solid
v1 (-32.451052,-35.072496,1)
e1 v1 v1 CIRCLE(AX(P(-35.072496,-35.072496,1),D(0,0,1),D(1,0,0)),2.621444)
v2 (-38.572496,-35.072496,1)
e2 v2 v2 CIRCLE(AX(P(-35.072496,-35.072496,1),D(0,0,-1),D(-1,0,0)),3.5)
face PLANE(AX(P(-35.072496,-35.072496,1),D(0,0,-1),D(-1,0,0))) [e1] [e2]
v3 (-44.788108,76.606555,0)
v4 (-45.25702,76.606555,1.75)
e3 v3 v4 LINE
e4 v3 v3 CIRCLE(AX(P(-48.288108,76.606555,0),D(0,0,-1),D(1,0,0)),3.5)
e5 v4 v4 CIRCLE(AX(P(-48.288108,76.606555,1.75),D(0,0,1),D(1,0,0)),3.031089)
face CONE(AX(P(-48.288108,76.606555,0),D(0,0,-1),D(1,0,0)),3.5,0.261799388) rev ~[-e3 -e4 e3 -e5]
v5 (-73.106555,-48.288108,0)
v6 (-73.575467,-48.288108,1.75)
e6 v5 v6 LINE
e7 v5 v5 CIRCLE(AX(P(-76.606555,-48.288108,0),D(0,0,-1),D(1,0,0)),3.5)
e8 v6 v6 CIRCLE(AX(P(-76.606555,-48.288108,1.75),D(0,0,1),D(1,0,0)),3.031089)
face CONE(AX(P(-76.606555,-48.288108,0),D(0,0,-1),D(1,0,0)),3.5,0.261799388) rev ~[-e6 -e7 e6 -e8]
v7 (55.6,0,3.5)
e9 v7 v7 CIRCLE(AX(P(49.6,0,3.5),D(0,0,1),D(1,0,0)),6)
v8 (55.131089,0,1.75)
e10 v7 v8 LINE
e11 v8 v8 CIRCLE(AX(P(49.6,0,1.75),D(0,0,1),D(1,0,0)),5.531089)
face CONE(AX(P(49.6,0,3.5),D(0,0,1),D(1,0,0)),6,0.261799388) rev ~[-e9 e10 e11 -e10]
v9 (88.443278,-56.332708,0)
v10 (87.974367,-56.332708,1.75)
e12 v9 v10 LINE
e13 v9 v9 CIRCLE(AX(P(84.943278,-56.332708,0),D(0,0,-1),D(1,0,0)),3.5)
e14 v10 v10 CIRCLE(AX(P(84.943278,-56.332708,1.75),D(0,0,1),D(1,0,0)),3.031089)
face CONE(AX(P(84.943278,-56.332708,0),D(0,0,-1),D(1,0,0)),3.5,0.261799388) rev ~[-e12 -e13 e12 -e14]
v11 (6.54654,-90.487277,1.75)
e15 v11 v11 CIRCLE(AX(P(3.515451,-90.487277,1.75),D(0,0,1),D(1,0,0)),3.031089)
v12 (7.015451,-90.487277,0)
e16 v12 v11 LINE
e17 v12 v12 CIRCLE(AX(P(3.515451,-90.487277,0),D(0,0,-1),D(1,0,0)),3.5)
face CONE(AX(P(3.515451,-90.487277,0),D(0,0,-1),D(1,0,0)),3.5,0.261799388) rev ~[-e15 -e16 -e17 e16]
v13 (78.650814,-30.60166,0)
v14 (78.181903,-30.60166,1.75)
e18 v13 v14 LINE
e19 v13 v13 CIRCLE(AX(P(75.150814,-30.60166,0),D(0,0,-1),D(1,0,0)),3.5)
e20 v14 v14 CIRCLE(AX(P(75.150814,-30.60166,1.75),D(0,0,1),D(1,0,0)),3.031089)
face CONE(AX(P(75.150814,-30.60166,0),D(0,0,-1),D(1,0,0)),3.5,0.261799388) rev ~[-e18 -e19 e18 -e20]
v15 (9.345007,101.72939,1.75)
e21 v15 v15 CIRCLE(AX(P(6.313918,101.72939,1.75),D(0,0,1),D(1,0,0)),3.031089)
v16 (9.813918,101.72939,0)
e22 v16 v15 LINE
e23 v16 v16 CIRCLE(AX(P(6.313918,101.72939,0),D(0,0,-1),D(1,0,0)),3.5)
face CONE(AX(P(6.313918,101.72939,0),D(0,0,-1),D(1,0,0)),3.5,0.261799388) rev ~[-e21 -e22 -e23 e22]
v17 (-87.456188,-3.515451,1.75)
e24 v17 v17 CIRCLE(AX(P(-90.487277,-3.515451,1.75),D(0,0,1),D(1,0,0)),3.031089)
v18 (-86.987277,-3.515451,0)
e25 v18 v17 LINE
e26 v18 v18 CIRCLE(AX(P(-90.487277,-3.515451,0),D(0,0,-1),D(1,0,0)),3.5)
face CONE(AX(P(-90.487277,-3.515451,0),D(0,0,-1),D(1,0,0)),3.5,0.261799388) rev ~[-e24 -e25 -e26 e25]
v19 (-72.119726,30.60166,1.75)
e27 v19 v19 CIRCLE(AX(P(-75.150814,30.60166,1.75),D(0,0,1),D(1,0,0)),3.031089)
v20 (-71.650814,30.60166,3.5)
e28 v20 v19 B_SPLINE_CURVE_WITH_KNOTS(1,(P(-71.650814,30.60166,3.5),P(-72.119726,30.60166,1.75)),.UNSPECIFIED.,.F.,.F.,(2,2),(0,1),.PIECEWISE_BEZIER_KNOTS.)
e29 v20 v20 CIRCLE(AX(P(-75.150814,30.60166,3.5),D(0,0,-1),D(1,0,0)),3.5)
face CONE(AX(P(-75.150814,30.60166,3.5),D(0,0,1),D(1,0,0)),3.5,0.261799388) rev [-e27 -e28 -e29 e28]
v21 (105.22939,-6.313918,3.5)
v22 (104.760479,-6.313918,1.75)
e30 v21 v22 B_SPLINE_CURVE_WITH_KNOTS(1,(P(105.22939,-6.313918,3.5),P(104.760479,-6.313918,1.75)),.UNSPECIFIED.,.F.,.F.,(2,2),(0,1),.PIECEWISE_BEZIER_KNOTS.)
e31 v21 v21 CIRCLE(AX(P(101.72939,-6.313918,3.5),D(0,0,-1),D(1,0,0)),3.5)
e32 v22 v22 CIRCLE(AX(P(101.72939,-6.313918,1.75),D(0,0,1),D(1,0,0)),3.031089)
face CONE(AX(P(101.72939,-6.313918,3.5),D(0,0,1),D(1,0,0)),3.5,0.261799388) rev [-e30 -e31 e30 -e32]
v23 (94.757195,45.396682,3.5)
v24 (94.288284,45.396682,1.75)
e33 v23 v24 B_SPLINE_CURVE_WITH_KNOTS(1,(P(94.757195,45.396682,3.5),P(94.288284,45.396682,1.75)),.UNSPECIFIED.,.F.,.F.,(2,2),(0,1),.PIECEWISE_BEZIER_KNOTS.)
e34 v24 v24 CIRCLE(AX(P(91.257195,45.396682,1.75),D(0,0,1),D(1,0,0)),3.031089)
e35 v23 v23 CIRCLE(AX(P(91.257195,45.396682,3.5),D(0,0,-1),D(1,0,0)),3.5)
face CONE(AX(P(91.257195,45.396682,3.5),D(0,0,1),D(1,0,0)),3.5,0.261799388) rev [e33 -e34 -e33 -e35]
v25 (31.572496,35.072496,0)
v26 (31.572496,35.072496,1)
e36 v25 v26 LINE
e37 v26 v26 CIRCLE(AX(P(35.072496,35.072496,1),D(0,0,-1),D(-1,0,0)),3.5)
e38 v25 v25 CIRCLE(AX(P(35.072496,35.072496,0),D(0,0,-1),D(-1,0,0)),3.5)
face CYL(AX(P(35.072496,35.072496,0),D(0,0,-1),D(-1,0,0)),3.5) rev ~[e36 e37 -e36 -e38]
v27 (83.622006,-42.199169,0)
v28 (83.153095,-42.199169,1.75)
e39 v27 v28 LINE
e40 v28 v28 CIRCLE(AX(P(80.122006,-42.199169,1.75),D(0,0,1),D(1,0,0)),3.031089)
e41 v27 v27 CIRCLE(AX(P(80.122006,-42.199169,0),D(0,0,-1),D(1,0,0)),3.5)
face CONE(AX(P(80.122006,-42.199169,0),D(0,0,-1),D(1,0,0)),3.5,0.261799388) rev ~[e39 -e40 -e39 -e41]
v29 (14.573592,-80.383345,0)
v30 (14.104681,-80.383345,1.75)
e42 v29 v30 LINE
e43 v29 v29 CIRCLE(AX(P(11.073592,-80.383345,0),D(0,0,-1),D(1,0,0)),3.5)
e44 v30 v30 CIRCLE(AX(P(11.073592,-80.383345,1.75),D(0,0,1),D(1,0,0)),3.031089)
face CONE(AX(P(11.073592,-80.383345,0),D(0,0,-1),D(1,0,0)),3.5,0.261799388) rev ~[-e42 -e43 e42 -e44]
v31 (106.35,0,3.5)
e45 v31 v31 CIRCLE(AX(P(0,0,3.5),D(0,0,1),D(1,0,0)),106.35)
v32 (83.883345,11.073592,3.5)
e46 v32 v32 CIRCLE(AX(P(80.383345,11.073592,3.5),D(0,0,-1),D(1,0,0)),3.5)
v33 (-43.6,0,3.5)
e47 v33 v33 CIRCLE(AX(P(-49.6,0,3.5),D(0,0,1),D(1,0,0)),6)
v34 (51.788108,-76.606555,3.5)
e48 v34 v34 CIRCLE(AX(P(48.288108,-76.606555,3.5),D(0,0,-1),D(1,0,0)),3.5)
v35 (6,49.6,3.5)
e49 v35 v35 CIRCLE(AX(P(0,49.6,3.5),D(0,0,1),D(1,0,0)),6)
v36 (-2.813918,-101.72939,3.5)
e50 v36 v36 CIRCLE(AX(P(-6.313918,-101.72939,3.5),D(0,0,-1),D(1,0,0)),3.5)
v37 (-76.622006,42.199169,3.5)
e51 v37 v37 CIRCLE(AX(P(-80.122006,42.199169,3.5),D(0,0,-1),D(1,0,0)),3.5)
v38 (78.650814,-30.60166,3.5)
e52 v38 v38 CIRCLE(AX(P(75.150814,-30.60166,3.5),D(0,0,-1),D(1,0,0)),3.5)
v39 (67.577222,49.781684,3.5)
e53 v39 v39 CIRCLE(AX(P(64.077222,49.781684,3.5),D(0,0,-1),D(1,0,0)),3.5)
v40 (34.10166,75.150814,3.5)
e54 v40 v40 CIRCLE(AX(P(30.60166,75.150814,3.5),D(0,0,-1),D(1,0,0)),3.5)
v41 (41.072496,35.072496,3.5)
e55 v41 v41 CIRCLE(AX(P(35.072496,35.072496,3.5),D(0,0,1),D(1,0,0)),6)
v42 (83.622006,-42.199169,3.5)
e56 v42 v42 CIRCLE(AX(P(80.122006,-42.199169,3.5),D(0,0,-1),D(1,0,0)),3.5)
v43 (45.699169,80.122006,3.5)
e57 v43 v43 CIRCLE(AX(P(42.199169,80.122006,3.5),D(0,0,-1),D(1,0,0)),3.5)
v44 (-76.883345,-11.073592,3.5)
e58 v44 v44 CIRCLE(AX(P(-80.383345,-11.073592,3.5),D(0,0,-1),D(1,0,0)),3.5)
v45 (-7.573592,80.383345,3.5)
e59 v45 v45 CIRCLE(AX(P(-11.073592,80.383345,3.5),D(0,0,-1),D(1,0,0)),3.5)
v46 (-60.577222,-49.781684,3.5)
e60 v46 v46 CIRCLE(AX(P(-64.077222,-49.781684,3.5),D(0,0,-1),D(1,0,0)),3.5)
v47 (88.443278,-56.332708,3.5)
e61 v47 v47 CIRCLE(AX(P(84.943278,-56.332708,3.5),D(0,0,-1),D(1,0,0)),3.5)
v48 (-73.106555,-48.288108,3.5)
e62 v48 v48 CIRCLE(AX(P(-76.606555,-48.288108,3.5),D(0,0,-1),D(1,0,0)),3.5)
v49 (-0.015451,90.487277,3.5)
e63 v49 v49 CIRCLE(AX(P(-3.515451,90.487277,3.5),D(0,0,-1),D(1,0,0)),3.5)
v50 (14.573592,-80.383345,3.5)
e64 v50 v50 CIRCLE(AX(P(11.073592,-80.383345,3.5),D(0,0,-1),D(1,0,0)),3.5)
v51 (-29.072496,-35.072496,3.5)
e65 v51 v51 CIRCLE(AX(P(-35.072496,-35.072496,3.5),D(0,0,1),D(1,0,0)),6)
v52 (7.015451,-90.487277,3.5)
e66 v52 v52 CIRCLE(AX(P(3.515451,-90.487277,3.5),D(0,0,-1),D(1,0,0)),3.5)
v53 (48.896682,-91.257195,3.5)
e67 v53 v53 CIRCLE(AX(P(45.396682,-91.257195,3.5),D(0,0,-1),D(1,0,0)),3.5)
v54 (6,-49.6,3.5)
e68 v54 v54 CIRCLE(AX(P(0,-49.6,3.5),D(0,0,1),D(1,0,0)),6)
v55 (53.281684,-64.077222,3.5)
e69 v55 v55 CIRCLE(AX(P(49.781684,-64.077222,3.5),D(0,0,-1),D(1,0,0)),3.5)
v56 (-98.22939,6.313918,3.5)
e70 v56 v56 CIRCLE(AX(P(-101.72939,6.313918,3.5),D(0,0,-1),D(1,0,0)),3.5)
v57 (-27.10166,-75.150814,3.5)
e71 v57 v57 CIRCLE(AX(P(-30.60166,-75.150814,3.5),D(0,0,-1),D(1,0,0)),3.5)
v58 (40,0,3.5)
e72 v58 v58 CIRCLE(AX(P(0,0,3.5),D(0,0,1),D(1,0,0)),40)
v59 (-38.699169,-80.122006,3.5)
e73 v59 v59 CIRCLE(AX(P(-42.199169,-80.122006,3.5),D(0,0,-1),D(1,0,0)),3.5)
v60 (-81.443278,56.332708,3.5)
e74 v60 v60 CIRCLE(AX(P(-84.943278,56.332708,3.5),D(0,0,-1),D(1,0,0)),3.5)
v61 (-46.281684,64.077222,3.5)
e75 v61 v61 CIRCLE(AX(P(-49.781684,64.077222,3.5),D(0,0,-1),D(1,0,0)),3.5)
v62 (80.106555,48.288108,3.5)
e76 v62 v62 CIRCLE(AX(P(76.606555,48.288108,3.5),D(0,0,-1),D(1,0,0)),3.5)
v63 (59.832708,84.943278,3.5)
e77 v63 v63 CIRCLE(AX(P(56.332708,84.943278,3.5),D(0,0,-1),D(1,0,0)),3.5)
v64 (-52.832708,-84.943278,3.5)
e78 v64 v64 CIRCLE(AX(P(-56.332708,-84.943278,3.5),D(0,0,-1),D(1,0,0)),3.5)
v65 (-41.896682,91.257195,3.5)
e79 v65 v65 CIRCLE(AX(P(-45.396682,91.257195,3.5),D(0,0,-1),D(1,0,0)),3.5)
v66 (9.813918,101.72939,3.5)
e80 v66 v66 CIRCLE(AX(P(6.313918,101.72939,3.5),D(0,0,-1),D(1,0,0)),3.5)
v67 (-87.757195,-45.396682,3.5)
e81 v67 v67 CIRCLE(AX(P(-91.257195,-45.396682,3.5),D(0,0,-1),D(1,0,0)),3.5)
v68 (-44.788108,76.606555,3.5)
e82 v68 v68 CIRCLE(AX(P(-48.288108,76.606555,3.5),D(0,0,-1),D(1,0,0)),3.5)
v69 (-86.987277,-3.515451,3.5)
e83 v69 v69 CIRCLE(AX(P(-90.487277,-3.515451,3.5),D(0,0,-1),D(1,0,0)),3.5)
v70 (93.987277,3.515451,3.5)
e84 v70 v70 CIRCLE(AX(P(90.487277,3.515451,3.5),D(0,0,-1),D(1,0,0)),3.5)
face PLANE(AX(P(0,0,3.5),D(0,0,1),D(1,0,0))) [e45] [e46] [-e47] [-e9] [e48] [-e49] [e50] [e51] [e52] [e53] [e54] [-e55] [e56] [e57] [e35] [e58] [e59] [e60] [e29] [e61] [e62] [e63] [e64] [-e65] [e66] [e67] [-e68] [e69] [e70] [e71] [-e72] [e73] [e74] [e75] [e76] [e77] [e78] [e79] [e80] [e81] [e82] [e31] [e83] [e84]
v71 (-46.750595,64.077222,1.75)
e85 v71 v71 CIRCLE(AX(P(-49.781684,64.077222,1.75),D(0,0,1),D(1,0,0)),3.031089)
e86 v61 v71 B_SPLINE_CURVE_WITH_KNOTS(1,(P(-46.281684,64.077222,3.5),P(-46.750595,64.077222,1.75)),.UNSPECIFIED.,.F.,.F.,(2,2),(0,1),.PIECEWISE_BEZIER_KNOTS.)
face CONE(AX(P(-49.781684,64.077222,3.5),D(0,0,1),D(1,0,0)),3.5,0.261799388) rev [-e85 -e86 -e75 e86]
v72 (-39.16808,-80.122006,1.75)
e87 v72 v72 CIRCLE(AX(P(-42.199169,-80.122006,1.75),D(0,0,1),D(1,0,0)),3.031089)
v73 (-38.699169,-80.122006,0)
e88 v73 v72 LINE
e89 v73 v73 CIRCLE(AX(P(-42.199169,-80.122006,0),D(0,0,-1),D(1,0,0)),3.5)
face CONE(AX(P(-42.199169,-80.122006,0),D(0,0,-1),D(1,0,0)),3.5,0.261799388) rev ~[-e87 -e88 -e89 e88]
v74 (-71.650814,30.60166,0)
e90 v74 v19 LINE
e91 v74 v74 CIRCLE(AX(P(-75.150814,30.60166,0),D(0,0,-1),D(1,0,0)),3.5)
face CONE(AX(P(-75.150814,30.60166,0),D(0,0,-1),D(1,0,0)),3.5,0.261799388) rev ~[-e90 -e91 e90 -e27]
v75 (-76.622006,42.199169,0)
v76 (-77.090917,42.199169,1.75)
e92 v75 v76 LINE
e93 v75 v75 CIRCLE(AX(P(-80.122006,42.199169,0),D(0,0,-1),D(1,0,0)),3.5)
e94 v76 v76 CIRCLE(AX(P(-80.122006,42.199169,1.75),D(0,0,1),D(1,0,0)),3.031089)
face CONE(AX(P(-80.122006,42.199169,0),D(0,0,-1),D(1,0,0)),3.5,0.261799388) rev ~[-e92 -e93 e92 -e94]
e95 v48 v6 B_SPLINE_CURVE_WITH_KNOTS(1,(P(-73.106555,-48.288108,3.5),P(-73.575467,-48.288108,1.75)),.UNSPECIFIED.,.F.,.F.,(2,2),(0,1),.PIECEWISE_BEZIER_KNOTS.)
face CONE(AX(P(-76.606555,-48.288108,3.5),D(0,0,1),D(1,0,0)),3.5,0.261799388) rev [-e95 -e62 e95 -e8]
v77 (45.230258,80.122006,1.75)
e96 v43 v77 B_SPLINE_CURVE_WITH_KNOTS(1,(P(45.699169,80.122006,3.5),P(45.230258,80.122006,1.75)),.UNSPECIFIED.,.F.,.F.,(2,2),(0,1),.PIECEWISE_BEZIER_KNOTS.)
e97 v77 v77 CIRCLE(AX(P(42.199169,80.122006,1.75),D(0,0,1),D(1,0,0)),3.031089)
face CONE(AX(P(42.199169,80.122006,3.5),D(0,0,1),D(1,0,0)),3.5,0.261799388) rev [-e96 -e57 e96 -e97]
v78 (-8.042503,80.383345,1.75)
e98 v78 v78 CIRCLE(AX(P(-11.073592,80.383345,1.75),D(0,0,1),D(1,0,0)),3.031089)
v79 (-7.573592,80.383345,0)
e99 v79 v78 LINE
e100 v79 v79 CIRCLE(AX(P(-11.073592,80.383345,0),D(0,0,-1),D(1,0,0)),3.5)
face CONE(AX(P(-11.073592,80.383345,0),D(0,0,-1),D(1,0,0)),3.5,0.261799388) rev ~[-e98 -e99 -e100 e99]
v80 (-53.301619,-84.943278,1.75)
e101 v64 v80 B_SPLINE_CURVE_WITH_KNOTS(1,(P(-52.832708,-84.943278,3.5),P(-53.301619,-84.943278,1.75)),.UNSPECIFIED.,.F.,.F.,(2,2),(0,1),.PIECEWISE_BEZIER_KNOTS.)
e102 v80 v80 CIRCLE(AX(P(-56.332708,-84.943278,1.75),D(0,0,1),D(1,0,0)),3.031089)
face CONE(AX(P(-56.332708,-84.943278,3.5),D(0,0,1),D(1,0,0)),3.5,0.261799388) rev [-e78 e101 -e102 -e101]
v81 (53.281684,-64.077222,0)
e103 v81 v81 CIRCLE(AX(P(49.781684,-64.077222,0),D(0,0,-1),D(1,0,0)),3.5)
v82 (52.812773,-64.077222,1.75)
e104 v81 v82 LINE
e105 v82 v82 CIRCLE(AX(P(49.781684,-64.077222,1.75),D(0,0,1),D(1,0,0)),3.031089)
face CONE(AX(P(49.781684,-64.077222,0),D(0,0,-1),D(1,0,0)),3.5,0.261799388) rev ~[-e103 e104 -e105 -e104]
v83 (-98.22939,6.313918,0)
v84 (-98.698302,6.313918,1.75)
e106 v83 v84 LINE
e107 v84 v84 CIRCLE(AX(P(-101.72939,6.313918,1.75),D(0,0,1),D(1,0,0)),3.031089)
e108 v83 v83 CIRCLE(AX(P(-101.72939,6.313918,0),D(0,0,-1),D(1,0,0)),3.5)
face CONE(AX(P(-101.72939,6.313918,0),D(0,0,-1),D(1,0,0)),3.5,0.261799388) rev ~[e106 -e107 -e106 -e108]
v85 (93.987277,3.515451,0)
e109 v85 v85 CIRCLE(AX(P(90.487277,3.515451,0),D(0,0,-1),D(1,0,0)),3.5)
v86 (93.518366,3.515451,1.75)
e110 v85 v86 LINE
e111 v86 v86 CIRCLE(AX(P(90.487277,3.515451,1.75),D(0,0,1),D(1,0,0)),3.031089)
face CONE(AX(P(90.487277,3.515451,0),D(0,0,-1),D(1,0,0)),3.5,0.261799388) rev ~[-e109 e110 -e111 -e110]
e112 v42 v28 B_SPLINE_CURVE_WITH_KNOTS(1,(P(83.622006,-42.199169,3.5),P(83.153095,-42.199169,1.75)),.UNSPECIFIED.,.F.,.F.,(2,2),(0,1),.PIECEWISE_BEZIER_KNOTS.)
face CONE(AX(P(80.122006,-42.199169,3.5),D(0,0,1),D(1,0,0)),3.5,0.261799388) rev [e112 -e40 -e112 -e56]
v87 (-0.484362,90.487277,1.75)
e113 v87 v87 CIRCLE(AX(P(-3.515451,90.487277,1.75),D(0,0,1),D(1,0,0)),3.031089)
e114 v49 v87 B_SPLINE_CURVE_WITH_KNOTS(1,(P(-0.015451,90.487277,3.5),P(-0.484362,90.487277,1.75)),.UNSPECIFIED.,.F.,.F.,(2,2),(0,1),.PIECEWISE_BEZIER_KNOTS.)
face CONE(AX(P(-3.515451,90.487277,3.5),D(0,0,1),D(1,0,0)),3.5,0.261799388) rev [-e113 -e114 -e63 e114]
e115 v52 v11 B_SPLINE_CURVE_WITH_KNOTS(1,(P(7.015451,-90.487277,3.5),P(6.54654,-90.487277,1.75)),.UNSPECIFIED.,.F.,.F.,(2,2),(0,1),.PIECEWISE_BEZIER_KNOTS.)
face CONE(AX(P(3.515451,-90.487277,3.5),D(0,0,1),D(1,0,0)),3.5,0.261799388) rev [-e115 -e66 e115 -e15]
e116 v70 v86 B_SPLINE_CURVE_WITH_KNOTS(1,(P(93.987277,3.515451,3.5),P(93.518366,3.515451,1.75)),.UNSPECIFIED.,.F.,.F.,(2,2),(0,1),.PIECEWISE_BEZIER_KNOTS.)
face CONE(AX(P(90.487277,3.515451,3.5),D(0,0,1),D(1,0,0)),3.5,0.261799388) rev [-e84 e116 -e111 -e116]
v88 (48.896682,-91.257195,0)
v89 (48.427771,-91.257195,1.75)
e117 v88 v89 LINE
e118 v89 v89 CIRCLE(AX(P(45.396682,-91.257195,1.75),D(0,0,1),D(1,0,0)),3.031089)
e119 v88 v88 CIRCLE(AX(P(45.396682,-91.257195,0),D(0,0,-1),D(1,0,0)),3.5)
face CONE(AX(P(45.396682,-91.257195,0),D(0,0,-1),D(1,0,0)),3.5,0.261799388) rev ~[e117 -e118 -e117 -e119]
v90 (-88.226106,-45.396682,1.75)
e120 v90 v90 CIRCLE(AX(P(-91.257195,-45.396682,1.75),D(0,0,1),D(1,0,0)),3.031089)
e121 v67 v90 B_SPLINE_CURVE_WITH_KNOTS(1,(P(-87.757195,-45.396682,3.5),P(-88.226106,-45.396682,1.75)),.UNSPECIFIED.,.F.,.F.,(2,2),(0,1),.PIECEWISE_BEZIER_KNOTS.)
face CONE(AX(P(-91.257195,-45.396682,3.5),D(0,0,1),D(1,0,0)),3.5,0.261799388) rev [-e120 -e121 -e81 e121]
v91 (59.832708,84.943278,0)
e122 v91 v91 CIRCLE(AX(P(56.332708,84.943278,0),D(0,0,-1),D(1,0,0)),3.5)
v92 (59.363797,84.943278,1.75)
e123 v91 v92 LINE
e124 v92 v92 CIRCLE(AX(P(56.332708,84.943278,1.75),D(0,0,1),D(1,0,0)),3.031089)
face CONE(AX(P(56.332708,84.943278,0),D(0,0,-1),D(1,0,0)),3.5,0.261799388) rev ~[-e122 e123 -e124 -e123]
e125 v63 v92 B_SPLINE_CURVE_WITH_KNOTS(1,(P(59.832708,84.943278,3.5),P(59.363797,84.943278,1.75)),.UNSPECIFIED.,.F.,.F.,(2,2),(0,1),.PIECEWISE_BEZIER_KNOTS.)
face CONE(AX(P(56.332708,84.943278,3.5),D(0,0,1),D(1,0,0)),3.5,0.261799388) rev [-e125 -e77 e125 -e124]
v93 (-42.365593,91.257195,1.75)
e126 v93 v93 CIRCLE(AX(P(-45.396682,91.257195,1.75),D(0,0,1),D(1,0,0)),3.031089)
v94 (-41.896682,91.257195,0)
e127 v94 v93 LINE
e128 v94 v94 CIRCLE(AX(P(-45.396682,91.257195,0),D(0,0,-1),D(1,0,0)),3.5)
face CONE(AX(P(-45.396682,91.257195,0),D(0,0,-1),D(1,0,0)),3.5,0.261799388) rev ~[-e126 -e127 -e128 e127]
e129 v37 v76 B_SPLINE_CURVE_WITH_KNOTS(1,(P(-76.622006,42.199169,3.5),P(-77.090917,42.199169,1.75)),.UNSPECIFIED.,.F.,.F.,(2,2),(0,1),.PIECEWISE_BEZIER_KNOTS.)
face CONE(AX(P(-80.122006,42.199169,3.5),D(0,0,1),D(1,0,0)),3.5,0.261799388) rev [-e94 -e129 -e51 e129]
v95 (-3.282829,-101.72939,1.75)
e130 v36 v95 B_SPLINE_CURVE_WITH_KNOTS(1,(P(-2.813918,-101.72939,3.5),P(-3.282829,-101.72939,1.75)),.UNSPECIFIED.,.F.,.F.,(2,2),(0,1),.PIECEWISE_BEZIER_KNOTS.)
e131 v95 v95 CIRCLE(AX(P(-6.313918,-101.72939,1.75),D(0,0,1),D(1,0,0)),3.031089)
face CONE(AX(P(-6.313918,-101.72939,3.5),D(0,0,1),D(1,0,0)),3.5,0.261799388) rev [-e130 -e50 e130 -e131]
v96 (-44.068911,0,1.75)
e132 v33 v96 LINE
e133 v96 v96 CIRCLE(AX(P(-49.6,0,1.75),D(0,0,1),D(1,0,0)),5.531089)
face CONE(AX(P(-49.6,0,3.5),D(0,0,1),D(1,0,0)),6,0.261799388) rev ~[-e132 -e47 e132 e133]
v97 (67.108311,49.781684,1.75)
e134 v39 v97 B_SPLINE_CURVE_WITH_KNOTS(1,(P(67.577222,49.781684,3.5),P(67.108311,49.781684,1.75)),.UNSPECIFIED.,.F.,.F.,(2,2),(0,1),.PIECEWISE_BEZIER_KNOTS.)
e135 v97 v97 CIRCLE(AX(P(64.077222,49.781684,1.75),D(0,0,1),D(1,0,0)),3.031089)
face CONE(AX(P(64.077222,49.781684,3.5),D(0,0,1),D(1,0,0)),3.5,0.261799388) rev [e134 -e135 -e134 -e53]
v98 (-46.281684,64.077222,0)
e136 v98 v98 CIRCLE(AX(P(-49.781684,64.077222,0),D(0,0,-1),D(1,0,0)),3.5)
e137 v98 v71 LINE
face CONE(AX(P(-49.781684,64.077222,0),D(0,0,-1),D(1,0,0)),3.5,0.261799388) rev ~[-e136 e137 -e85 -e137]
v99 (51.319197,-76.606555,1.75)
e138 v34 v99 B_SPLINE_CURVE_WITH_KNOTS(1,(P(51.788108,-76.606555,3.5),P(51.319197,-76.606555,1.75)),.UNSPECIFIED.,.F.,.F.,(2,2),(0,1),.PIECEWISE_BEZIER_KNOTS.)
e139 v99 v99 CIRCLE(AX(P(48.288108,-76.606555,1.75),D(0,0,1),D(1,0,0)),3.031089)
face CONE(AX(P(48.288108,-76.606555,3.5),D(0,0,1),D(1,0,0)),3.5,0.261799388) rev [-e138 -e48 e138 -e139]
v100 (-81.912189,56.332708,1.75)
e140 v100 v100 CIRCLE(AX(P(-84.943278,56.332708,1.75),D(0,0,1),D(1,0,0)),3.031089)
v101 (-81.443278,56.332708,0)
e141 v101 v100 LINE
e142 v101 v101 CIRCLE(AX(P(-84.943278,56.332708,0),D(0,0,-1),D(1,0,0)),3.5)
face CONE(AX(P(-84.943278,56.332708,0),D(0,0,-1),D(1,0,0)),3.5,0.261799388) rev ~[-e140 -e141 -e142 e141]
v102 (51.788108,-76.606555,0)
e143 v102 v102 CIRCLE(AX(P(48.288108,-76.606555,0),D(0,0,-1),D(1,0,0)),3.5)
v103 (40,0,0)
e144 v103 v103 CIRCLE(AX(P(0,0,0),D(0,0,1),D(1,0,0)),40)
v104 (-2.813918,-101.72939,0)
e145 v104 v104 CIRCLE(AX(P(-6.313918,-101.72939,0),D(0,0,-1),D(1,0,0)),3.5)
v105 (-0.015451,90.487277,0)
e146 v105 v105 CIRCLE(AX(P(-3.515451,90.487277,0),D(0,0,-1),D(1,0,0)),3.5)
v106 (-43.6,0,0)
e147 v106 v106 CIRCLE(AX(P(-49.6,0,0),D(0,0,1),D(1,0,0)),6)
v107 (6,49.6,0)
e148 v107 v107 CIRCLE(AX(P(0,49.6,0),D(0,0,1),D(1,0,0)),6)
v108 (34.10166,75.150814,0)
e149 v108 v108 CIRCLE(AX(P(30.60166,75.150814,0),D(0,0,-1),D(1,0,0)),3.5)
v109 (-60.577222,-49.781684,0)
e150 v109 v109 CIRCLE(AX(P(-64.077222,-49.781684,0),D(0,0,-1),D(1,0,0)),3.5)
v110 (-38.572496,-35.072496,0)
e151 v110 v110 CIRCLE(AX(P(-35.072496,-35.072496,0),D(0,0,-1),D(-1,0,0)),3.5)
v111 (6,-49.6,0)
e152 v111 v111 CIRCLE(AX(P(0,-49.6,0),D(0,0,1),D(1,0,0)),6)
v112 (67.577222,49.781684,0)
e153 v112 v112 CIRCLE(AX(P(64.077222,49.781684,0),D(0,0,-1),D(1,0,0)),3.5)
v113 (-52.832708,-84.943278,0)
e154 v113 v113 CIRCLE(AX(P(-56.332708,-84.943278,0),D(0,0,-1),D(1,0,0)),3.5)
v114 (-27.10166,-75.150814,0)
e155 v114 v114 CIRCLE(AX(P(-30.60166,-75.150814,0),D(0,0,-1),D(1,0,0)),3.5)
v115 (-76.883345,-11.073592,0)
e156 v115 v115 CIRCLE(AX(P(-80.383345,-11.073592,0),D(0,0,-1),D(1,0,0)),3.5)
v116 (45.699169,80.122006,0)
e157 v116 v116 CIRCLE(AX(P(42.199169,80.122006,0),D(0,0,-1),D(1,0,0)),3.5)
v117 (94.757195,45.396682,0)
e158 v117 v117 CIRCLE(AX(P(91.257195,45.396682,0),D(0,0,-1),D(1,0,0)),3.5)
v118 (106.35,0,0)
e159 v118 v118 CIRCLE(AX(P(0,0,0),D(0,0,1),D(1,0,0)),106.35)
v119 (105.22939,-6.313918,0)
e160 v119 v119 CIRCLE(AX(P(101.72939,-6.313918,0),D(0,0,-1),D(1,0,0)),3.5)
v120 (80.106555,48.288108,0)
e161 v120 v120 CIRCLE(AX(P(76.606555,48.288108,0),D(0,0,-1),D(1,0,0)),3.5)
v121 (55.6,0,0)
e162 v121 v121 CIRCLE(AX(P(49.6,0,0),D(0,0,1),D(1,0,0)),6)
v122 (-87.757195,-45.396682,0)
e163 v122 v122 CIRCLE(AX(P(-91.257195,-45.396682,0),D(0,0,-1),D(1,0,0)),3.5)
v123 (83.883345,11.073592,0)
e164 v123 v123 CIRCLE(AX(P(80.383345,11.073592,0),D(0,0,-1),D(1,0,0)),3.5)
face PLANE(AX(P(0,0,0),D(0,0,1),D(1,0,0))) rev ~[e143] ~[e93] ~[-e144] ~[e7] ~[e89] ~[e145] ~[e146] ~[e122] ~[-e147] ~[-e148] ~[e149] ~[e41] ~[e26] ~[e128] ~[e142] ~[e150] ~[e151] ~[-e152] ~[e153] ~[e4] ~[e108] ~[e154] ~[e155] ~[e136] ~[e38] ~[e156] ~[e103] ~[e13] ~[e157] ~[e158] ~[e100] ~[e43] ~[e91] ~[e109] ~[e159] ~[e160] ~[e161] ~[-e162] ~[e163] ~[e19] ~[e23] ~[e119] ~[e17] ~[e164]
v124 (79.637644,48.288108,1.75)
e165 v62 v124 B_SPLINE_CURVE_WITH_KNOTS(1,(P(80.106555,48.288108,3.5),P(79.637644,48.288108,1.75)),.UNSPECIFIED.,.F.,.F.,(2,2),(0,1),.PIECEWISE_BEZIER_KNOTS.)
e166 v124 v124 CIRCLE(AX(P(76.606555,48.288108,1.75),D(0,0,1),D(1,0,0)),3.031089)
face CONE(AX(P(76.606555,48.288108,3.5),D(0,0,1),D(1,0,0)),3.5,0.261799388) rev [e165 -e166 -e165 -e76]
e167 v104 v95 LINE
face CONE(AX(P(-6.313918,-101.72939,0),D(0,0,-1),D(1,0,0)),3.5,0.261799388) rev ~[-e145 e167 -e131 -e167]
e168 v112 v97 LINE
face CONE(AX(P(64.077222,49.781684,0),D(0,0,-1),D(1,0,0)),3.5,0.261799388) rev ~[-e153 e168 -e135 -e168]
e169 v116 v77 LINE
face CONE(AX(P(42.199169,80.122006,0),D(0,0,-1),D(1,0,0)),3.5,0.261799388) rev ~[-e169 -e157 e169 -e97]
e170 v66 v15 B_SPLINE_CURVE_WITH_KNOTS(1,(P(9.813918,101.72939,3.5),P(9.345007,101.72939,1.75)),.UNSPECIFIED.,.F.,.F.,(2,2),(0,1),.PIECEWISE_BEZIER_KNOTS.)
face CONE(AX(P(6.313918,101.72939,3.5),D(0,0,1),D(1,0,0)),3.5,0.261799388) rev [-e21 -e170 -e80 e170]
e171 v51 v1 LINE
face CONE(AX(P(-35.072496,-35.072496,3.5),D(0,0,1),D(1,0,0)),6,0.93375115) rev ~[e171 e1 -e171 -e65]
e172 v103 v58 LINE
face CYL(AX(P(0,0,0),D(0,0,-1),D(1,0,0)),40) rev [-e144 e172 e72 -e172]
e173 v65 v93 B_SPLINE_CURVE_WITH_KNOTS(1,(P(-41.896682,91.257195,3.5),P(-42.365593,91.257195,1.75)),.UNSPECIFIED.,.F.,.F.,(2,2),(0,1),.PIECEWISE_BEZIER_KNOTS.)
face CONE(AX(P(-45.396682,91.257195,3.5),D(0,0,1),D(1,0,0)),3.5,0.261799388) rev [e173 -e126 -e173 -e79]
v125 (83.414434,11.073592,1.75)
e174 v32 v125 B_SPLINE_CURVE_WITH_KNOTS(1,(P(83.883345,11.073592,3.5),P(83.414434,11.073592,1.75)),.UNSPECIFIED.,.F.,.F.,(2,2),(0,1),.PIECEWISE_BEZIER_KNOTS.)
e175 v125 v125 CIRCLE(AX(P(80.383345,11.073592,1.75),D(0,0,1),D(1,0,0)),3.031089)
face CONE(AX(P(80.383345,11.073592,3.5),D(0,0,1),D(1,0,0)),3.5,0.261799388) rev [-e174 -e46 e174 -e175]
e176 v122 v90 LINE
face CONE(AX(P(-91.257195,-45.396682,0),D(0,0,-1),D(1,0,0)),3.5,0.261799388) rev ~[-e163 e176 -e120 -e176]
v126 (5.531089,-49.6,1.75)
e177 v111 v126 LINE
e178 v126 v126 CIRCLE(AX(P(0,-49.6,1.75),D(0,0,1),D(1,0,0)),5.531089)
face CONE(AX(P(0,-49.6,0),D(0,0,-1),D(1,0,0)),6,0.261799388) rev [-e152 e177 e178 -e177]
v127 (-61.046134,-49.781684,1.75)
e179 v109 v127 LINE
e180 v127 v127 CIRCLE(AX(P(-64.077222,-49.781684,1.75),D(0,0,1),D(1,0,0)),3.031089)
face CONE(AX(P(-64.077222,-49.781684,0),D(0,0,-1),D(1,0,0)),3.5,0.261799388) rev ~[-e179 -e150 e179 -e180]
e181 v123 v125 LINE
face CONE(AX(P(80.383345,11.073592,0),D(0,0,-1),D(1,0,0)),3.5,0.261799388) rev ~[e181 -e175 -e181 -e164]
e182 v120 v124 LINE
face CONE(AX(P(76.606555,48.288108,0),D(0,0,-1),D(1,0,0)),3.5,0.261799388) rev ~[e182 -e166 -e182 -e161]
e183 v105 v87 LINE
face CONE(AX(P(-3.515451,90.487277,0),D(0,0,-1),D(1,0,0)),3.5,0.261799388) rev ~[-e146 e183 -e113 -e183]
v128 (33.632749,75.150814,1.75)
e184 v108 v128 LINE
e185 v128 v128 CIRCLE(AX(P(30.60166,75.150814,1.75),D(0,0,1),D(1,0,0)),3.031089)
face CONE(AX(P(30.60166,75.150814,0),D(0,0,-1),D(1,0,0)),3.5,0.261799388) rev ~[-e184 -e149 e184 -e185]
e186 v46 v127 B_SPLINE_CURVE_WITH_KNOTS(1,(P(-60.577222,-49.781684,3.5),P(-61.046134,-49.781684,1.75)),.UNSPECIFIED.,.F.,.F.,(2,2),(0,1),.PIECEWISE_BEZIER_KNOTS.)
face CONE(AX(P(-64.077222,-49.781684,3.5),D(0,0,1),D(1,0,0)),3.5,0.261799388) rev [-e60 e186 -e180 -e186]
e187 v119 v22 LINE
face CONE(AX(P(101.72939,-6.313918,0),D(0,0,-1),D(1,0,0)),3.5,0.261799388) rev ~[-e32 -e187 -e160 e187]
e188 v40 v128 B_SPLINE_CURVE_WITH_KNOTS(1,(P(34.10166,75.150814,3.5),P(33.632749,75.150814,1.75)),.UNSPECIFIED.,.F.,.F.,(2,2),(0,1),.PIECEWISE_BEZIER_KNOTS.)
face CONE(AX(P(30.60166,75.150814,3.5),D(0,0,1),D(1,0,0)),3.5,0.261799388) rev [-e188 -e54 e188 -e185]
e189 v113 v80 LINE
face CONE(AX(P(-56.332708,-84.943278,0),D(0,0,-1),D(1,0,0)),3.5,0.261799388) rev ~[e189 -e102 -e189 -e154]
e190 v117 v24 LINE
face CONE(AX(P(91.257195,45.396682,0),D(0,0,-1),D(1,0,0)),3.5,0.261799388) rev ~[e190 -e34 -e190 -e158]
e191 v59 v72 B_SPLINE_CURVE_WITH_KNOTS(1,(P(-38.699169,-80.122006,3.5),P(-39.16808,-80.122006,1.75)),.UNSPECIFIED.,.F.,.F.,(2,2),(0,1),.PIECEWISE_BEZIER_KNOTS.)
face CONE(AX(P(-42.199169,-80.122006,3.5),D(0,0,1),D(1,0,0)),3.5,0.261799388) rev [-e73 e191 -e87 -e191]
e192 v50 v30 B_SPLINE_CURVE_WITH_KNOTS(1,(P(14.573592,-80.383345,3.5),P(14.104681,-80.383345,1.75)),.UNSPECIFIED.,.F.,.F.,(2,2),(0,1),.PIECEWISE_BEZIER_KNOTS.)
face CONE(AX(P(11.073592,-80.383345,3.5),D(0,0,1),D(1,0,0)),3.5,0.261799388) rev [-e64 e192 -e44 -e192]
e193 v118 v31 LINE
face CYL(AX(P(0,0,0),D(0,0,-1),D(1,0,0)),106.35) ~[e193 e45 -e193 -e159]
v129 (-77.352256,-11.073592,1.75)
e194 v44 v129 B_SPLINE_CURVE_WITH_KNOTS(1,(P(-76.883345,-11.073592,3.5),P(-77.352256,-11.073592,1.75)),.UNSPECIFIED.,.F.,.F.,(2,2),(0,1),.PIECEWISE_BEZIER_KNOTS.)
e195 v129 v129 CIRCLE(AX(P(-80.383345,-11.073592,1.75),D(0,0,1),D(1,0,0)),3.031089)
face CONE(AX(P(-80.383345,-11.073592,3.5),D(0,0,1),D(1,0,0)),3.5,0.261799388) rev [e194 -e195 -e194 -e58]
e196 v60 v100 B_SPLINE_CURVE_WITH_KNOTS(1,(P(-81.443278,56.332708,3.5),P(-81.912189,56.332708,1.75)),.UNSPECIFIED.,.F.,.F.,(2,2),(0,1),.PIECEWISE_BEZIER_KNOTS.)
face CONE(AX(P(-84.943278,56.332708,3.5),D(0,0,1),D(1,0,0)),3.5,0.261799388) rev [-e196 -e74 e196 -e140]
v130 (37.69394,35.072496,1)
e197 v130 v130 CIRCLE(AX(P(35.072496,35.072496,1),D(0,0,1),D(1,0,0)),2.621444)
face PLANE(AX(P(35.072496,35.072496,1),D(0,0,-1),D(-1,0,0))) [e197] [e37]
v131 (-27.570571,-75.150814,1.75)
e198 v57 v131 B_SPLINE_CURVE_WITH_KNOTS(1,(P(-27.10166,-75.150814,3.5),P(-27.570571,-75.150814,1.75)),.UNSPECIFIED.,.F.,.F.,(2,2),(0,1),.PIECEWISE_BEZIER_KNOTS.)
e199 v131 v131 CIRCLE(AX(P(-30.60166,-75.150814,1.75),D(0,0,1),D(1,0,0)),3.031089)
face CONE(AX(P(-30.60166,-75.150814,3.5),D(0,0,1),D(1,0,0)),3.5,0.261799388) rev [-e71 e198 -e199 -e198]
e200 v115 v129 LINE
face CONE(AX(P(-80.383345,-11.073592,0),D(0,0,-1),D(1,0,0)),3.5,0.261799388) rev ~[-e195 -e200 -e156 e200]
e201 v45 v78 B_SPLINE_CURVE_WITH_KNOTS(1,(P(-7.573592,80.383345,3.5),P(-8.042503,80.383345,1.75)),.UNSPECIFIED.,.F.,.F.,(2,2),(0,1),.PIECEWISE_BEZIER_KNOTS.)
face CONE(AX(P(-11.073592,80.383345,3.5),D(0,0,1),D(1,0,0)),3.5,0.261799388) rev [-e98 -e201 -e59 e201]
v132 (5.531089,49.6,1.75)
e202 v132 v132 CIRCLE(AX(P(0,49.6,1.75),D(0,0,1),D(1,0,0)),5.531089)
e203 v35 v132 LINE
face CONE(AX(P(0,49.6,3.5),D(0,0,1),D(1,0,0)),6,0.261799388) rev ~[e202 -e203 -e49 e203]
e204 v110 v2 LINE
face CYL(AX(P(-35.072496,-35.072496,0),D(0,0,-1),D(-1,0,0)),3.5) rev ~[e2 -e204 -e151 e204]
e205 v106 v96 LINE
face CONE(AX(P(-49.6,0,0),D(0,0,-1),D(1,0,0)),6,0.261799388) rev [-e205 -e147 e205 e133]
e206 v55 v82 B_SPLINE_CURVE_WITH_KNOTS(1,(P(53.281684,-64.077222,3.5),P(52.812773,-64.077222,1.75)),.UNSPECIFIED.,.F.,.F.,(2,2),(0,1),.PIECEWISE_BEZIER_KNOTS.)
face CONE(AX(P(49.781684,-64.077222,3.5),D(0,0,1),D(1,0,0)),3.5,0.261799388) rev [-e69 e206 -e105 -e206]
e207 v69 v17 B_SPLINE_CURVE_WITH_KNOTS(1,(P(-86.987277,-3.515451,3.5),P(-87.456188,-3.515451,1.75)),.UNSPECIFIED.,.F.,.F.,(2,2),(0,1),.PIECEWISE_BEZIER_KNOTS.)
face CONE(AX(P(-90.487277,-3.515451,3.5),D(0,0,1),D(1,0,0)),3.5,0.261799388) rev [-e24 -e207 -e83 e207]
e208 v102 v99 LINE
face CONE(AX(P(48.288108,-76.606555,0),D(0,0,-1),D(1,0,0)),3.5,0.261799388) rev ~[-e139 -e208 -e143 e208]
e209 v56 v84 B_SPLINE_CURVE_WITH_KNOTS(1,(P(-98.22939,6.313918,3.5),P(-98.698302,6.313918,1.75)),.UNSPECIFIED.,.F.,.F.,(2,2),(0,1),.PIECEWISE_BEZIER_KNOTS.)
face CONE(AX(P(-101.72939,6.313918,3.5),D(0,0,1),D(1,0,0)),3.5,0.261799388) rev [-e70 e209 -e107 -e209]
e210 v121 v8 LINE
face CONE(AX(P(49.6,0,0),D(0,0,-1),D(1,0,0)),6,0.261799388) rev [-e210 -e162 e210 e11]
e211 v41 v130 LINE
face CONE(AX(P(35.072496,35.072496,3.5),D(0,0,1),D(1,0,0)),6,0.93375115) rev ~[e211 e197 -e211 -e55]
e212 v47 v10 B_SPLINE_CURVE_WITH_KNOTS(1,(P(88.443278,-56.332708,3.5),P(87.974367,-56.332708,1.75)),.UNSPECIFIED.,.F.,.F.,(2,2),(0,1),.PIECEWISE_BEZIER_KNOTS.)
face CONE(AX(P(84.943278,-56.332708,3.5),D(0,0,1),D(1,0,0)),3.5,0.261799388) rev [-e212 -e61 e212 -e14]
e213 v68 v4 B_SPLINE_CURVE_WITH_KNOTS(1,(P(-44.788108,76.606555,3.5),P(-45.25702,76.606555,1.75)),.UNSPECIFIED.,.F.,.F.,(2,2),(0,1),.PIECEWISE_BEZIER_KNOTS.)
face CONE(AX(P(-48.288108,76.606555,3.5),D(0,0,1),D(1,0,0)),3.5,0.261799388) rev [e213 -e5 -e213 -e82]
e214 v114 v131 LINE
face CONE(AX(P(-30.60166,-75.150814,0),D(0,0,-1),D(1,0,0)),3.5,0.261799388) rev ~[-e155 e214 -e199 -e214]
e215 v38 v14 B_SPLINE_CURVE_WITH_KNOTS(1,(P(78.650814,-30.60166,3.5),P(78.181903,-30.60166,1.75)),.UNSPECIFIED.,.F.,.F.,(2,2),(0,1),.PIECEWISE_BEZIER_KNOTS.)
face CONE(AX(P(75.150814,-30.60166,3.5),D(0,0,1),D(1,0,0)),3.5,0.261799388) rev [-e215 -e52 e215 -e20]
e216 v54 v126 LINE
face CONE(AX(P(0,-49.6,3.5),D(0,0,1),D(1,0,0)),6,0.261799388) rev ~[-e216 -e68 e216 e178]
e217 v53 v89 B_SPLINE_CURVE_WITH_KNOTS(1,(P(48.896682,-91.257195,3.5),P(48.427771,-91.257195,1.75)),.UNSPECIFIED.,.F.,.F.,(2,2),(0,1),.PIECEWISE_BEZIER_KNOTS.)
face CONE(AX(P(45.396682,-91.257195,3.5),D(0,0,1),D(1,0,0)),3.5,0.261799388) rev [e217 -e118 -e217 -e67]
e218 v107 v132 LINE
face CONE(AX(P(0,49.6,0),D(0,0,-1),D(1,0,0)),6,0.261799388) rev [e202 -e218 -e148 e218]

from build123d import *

# Parameters (mm, degrees)
SKETCH_1_R                    = 106.35
SKETCH_1_R_2                  = 40
EXTRUDE_1_DEPTH               = 3.5
SKETCH_2_R                    = 3.5
CUT_EXTRUDE_1_DEPTH           = 1.75
CUT_EXTRUDE_1_TAPER           = 15
CUT_EXTRUDE_START             = -3.5
SKETCH_2_6_R                  = 3.5
CUT_EXTRUDE_2_DEPTH           = 1.75
CUT_EXTRUDE_2_TAPER           = 15
SKETCH_2_7_R                  = 6
CUT_EXTRUDE_3_DEPTH           = 1.75
CUT_EXTRUDE_3_DRAFT           = -15
CUT_EXTRUDE_3_PROFILE_2_DEPTH = 1.75
CUT_EXTRUDE_3_PROFILE_2_DRAFT = -15
CUT_EXTRUDE_3_PROFILE_3_DEPTH = 1.75
CUT_EXTRUDE_3_PROFILE_3_DRAFT = -15
CUT_EXTRUDE_3_PROFILE_4_DEPTH = 1.75
CUT_EXTRUDE_3_PROFILE_4_DRAFT = -15
SKETCH_2_8_R                  = 6
CUT_EXTRUDE_4_DEPTH           = 1.75
CUT_EXTRUDE_4_DRAFT           = 15
CUT_EXTRUDE_4_PROFILE_2_DEPTH = 1.75
CUT_EXTRUDE_4_PROFILE_2_DRAFT = 15
CUT_EXTRUDE_4_PROFILE_3_DEPTH = 1.75
CUT_EXTRUDE_4_PROFILE_3_DRAFT = 15
CUT_EXTRUDE_4_PROFILE_4_DEPTH = 1.75
CUT_EXTRUDE_4_PROFILE_4_DRAFT = 15
SKETCH_6_R                    = 3.5
CUT_EXTRUDE_5_DEPTH           = 1
SKETCH_2_14_R                 = 6
CUT_EXTRUDE_7_DEPTH           = 2.5
CUT_EXTRUDE_7_DRAFT           = -53.5
SKETCH_2_16_R                 = 6
CUT_EXTRUDE_9_DEPTH           = 2.5
CUT_EXTRUDE_9_DRAFT           = -53.5


with BuildPart() as part:
    # 스케치1 → 보스-돌출1 (new body)
    with BuildSketch(Plane.XY):
        Circle(SKETCH_1_R)
        Circle(SKETCH_1_R_2, mode=Mode.SUBTRACT)
    extrude(amount=EXTRUDE_1_DEPTH)

    # 스케치2 → 컷-돌출1 (cut)
    with BuildSketch(Plane.XY.offset(3.5)):
        with Locations((56.332708309, 84.943277612)):
            Circle(SKETCH_2_R)
        with Locations((42.19916889, 80.122006401)):
            Circle(SKETCH_2_R)
        with Locations((30.601660309, 75.150814471)):
            Circle(SKETCH_2_R)
        with Locations((64.077222461, 49.781684292)):
            Circle(SKETCH_2_R)
        with Locations((91.257195266, 45.396682138)):
            Circle(SKETCH_2_R)
        with Locations((76.606555478, 48.2881085)):
            Circle(SKETCH_2_R)
        with Locations((80.383344601, 11.07359201)):
            Circle(SKETCH_2_R)
        with Locations((101.729390447, -6.313917654)):
            Circle(SKETCH_2_R)
        with Locations((90.487277391, 3.515450923)):
            Circle(SKETCH_2_R)
        with Locations((75.150814471, -30.601660309)):
            Circle(SKETCH_2_R)
        with Locations((84.943277612, -56.332708309)):
            Circle(SKETCH_2_R)
        with Locations((80.122006401, -42.19916889)):
            Circle(SKETCH_2_R)
        with Locations((49.781684292, -64.077222461)):
            Circle(SKETCH_2_R)
        with Locations((45.396682138, -91.257195266)):
            Circle(SKETCH_2_R)
        with Locations((48.2881085, -76.606555478)):
            Circle(SKETCH_2_R)
        with Locations((11.07359201, -80.383344601)):
            Circle(SKETCH_2_R)
        with Locations((-6.313917654, -101.729390447)):
            Circle(SKETCH_2_R)
        with Locations((3.515450923, -90.487277391)):
            Circle(SKETCH_2_R)
        with Locations((-30.601660309, -75.150814471)):
            Circle(SKETCH_2_R)
        with Locations((-56.332708309, -84.943277612)):
            Circle(SKETCH_2_R)
        with Locations((-42.19916889, -80.122006401)):
            Circle(SKETCH_2_R)
        with Locations((-64.077222461, -49.781684292)):
            Circle(SKETCH_2_R)
        with Locations((-91.257195266, -45.396682138)):
            Circle(SKETCH_2_R)
        with Locations((-76.606555478, -48.2881085)):
            Circle(SKETCH_2_R)
        with Locations((-80.383344601, -11.07359201)):
            Circle(SKETCH_2_R)
        with Locations((-101.729390447, 6.313917654)):
            Circle(SKETCH_2_R)
        with Locations((-90.487277391, -3.515450923)):
            Circle(SKETCH_2_R)
        with Locations((-75.150814471, 30.601660309)):
            Circle(SKETCH_2_R)
        with Locations((-84.943277612, 56.332708309)):
            Circle(SKETCH_2_R)
        with Locations((-80.122006401, 42.19916889)):
            Circle(SKETCH_2_R)
        with Locations((-49.781684292, 64.077222461)):
            Circle(SKETCH_2_R)
        with Locations((-45.396682138, 91.257195266)):
            Circle(SKETCH_2_R)
        with Locations((-48.2881085, 76.606555478)):
            Circle(SKETCH_2_R)
        with Locations((-11.07359201, 80.383344601)):
            Circle(SKETCH_2_R)
        with Locations((6.313917654, 101.729390447)):
            Circle(SKETCH_2_R)
        with Locations((-3.515450923, 90.487277391)):
            Circle(SKETCH_2_R)
    extrude(amount=-CUT_EXTRUDE_1_DEPTH, taper=CUT_EXTRUDE_1_TAPER, mode=Mode.SUBTRACT)

    # 스케치2<6> → 컷-돌출2 (cut)
    with BuildSketch(Plane.XY.offset(3.5).offset(CUT_EXTRUDE_START)):
        with Locations((56.332708309, 84.943277612)):
            Circle(SKETCH_2_6_R)
        with Locations((42.19916889, 80.122006401)):
            Circle(SKETCH_2_6_R)
        with Locations((30.601660309, 75.150814471)):
            Circle(SKETCH_2_6_R)
        with Locations((64.077222461, 49.781684292)):
            Circle(SKETCH_2_6_R)
        with Locations((91.257195266, 45.396682138)):
            Circle(SKETCH_2_6_R)
        with Locations((76.606555478, 48.2881085)):
            Circle(SKETCH_2_6_R)
        with Locations((80.383344601, 11.07359201)):
            Circle(SKETCH_2_6_R)
        with Locations((101.729390447, -6.313917654)):
            Circle(SKETCH_2_6_R)
        with Locations((90.487277391, 3.515450923)):
            Circle(SKETCH_2_6_R)
        with Locations((75.150814471, -30.601660309)):
            Circle(SKETCH_2_6_R)
        with Locations((84.943277612, -56.332708309)):
            Circle(SKETCH_2_6_R)
        with Locations((80.122006401, -42.19916889)):
            Circle(SKETCH_2_6_R)
        with Locations((49.781684292, -64.077222461)):
            Circle(SKETCH_2_6_R)
        with Locations((45.396682138, -91.257195266)):
            Circle(SKETCH_2_6_R)
        with Locations((48.2881085, -76.606555478)):
            Circle(SKETCH_2_6_R)
        with Locations((11.07359201, -80.383344601)):
            Circle(SKETCH_2_6_R)
        with Locations((-6.313917654, -101.729390447)):
            Circle(SKETCH_2_6_R)
        with Locations((3.515450923, -90.487277391)):
            Circle(SKETCH_2_6_R)
        with Locations((-30.601660309, -75.150814471)):
            Circle(SKETCH_2_6_R)
        with Locations((-56.332708309, -84.943277612)):
            Circle(SKETCH_2_6_R)
        with Locations((-42.19916889, -80.122006401)):
            Circle(SKETCH_2_6_R)
        with Locations((-64.077222461, -49.781684292)):
            Circle(SKETCH_2_6_R)
        with Locations((-91.257195266, -45.396682138)):
            Circle(SKETCH_2_6_R)
        with Locations((-76.606555478, -48.2881085)):
            Circle(SKETCH_2_6_R)
        with Locations((-80.383344601, -11.07359201)):
            Circle(SKETCH_2_6_R)
        with Locations((-101.729390447, 6.313917654)):
            Circle(SKETCH_2_6_R)
        with Locations((-90.487277391, -3.515450923)):
            Circle(SKETCH_2_6_R)
        with Locations((-75.150814471, 30.601660309)):
            Circle(SKETCH_2_6_R)
        with Locations((-84.943277612, 56.332708309)):
            Circle(SKETCH_2_6_R)
        with Locations((-80.122006401, 42.19916889)):
            Circle(SKETCH_2_6_R)
        with Locations((-49.781684292, 64.077222461)):
            Circle(SKETCH_2_6_R)
        with Locations((-45.396682138, 91.257195266)):
            Circle(SKETCH_2_6_R)
        with Locations((-48.2881085, 76.606555478)):
            Circle(SKETCH_2_6_R)
        with Locations((-11.07359201, 80.383344601)):
            Circle(SKETCH_2_6_R)
        with Locations((6.313917654, 101.729390447)):
            Circle(SKETCH_2_6_R)
        with Locations((-3.515450923, 90.487277391)):
            Circle(SKETCH_2_6_R)
    extrude(amount=CUT_EXTRUDE_2_DEPTH, taper=CUT_EXTRUDE_2_TAPER, mode=Mode.SUBTRACT)


with BuildPart() as cut_extrude_3_tool:
    # 스케치2<7> → 컷-돌출3 (with draft: the straight prism first)
    with BuildSketch(Plane.XY.offset(3.5)):
        with Locations((0, 49.6)):
            Circle(SKETCH_2_7_R)
    extrude(amount=-CUT_EXTRUDE_3_DEPTH)
    # 컷-돌출3: the draft: its side faces are tilted about the plane it starts from
    cut_extrude_3_sides = [cut_extrude_3_tool.faces().sort_by_distance(p)[0] for p in [
        (-6, 49.6, 2.625),
    ]]
    draft(cut_extrude_3_sides, Plane.XY.offset(3.5), CUT_EXTRUDE_3_DRAFT)


with BuildPart() as part_1:
    add(part.part)

    # 컷-돌출3: cut by cut_extrude_3_tool
    add(cut_extrude_3_tool.part, mode=Mode.SUBTRACT)


with BuildPart() as cut_extrude_3_profile_2_tool:
    # 스케치2<7> → 컷-돌출3 profile 2 (with draft: the straight prism first)
    with BuildSketch(Plane.XY.offset(3.5)):
        with Locations((49.6, 0)):
            Circle(SKETCH_2_7_R)
    extrude(amount=-CUT_EXTRUDE_3_PROFILE_2_DEPTH)
    # 컷-돌출3 profile 2: the draft: its side faces are tilted about the plane it starts from
    cut_extrude_3_profile_2_sides = [cut_extrude_3_profile_2_tool.faces().sort_by_distance(p)[0] for p in [
        (43.6, 0, 2.625),
    ]]
    draft(cut_extrude_3_profile_2_sides, Plane.XY.offset(3.5), CUT_EXTRUDE_3_PROFILE_2_DRAFT)


with BuildPart() as part_2:
    add(part_1.part)

    # 컷-돌출3 profile 2: cut by cut_extrude_3_profile_2_tool
    add(cut_extrude_3_profile_2_tool.part, mode=Mode.SUBTRACT)


with BuildPart() as cut_extrude_3_profile_3_tool:
    # 스케치2<7> → 컷-돌출3 profile 3 (with draft: the straight prism first)
    with BuildSketch(Plane.XY.offset(3.5)):
        with Locations((0, -49.6)):
            Circle(SKETCH_2_7_R)
    extrude(amount=-CUT_EXTRUDE_3_PROFILE_3_DEPTH)
    # 컷-돌출3 profile 3: the draft: its side faces are tilted about the plane it starts from
    cut_extrude_3_profile_3_sides = [cut_extrude_3_profile_3_tool.faces().sort_by_distance(p)[0] for p in [
        (-6, -49.6, 2.625),
    ]]
    draft(cut_extrude_3_profile_3_sides, Plane.XY.offset(3.5), CUT_EXTRUDE_3_PROFILE_3_DRAFT)


with BuildPart() as part_3:
    add(part_2.part)

    # 컷-돌출3 profile 3: cut by cut_extrude_3_profile_3_tool
    add(cut_extrude_3_profile_3_tool.part, mode=Mode.SUBTRACT)


with BuildPart() as cut_extrude_3_profile_4_tool:
    # 스케치2<7> → 컷-돌출3 profile 4 (with draft: the straight prism first)
    with BuildSketch(Plane.XY.offset(3.5)):
        with Locations((-49.6, 0)):
            Circle(SKETCH_2_7_R)
    extrude(amount=-CUT_EXTRUDE_3_PROFILE_4_DEPTH)
    # 컷-돌출3 profile 4: the draft: its side faces are tilted about the plane it starts from
    cut_extrude_3_profile_4_sides = [cut_extrude_3_profile_4_tool.faces().sort_by_distance(p)[0] for p in [
        (-55.6, 0, 2.625),
    ]]
    draft(cut_extrude_3_profile_4_sides, Plane.XY.offset(3.5), CUT_EXTRUDE_3_PROFILE_4_DRAFT)


with BuildPart() as part_4:
    add(part_3.part)

    # 컷-돌출3 profile 4: cut by cut_extrude_3_profile_4_tool
    add(cut_extrude_3_profile_4_tool.part, mode=Mode.SUBTRACT)


with BuildPart() as cut_extrude_4_tool:
    # 스케치2<8> → 컷-돌출4 (with draft: the straight prism first)
    with BuildSketch(Plane.XY.offset(3.5).offset(CUT_EXTRUDE_START)):
        with Locations((0, 49.6)):
            Circle(SKETCH_2_8_R)
    extrude(amount=CUT_EXTRUDE_4_DEPTH)
    # 컷-돌출4: the draft: its side faces are tilted about the plane it starts from
    cut_extrude_4_sides = [cut_extrude_4_tool.faces().sort_by_distance(p)[0] for p in [
        (-6, 49.6, 0.875),
    ]]
    draft(cut_extrude_4_sides, Plane.XY.offset(3.5).offset(CUT_EXTRUDE_START), CUT_EXTRUDE_4_DRAFT)


with BuildPart() as part_5:
    add(part_4.part)

    # 컷-돌출4: cut by cut_extrude_4_tool
    add(cut_extrude_4_tool.part, mode=Mode.SUBTRACT)


with BuildPart() as cut_extrude_4_profile_2_tool:
    # 스케치2<8> → 컷-돌출4 profile 2 (with draft: the straight prism first)
    with BuildSketch(Plane.XY.offset(3.5).offset(CUT_EXTRUDE_START)):
        with Locations((49.6, 0)):
            Circle(SKETCH_2_8_R)
    extrude(amount=CUT_EXTRUDE_4_PROFILE_2_DEPTH)
    # 컷-돌출4 profile 2: the draft: its side faces are tilted about the plane it starts from
    cut_extrude_4_profile_2_sides = [cut_extrude_4_profile_2_tool.faces().sort_by_distance(p)[0] for p in [
        (43.6, 0, 0.875),
    ]]
    draft(cut_extrude_4_profile_2_sides, Plane.XY.offset(3.5).offset(CUT_EXTRUDE_START), CUT_EXTRUDE_4_PROFILE_2_DRAFT)


with BuildPart() as part_6:
    add(part_5.part)

    # 컷-돌출4 profile 2: cut by cut_extrude_4_profile_2_tool
    add(cut_extrude_4_profile_2_tool.part, mode=Mode.SUBTRACT)


with BuildPart() as cut_extrude_4_profile_3_tool:
    # 스케치2<8> → 컷-돌출4 profile 3 (with draft: the straight prism first)
    with BuildSketch(Plane.XY.offset(3.5).offset(CUT_EXTRUDE_START)):
        with Locations((0, -49.6)):
            Circle(SKETCH_2_8_R)
    extrude(amount=CUT_EXTRUDE_4_PROFILE_3_DEPTH)
    # 컷-돌출4 profile 3: the draft: its side faces are tilted about the plane it starts from
    cut_extrude_4_profile_3_sides = [cut_extrude_4_profile_3_tool.faces().sort_by_distance(p)[0] for p in [
        (-6, -49.6, 0.875),
    ]]
    draft(cut_extrude_4_profile_3_sides, Plane.XY.offset(3.5).offset(CUT_EXTRUDE_START), CUT_EXTRUDE_4_PROFILE_3_DRAFT)


with BuildPart() as part_7:
    add(part_6.part)

    # 컷-돌출4 profile 3: cut by cut_extrude_4_profile_3_tool
    add(cut_extrude_4_profile_3_tool.part, mode=Mode.SUBTRACT)


with BuildPart() as cut_extrude_4_profile_4_tool:
    # 스케치2<8> → 컷-돌출4 profile 4 (with draft: the straight prism first)
    with BuildSketch(Plane.XY.offset(3.5).offset(CUT_EXTRUDE_START)):
        with Locations((-49.6, 0)):
            Circle(SKETCH_2_8_R)
    extrude(amount=CUT_EXTRUDE_4_PROFILE_4_DEPTH)
    # 컷-돌출4 profile 4: the draft: its side faces are tilted about the plane it starts from
    cut_extrude_4_profile_4_sides = [cut_extrude_4_profile_4_tool.faces().sort_by_distance(p)[0] for p in [
        (-55.6, 0, 0.875),
    ]]
    draft(cut_extrude_4_profile_4_sides, Plane.XY.offset(3.5).offset(CUT_EXTRUDE_START), CUT_EXTRUDE_4_PROFILE_4_DRAFT)


with BuildPart() as part_8:
    add(part_7.part)

    # 컷-돌출4 profile 4: cut by cut_extrude_4_profile_4_tool
    add(cut_extrude_4_profile_4_tool.part, mode=Mode.SUBTRACT)

    # 스케치6 → 컷-돌출5 (cut)
    with BuildSketch(Plane(origin=(0, 0, 0), x_dir=(-1, 0, 0), z_dir=(0, 0, -1))):
        with Locations((-35.072496347, 35.072496347)):
            Circle(SKETCH_6_R)
        with Locations((35.072496347, -35.072496347)):
            Circle(SKETCH_6_R)
    extrude(amount=-CUT_EXTRUDE_5_DEPTH, mode=Mode.SUBTRACT)


with BuildPart() as cut_extrude_7_tool:
    # 스케치2<14> → 컷-돌출7 (with draft: the straight prism first)
    with BuildSketch(Plane.XY.offset(3.5)):
        with Locations((-35.072496347, -35.072496347)):
            Circle(SKETCH_2_14_R)
    extrude(amount=-CUT_EXTRUDE_7_DEPTH)
    # 컷-돌출7: the draft: its side faces are tilted about the plane it starts from
    cut_extrude_7_sides = [cut_extrude_7_tool.faces().sort_by_distance(p)[0] for p in [
        (-41.072496347, -35.072496347, 2.25),
    ]]
    draft(cut_extrude_7_sides, Plane.XY.offset(3.5), CUT_EXTRUDE_7_DRAFT)


with BuildPart() as part_9:
    add(part_8.part)

    # 컷-돌출7: cut by cut_extrude_7_tool
    add(cut_extrude_7_tool.part, mode=Mode.SUBTRACT)


with BuildPart() as cut_extrude_9_tool:
    # 스케치2<16> → 컷-돌출9 (with draft: the straight prism first)
    with BuildSketch(Plane.XY.offset(3.5)):
        with Locations((35.072496347, 35.072496347)):
            Circle(SKETCH_2_16_R)
    extrude(amount=-CUT_EXTRUDE_9_DEPTH)
    # 컷-돌출9: the draft: its side faces are tilted about the plane it starts from
    cut_extrude_9_sides = [cut_extrude_9_tool.faces().sort_by_distance(p)[0] for p in [
        (29.072496347, 35.072496347, 2.25),
    ]]
    draft(cut_extrude_9_sides, Plane.XY.offset(3.5), CUT_EXTRUDE_9_DRAFT)


with BuildPart() as part_10:
    add(part_9.part)

    # 컷-돌출9: cut by cut_extrude_9_tool
    add(cut_extrude_9_tool.part, mode=Mode.SUBTRACT)


solid = part_10.part
